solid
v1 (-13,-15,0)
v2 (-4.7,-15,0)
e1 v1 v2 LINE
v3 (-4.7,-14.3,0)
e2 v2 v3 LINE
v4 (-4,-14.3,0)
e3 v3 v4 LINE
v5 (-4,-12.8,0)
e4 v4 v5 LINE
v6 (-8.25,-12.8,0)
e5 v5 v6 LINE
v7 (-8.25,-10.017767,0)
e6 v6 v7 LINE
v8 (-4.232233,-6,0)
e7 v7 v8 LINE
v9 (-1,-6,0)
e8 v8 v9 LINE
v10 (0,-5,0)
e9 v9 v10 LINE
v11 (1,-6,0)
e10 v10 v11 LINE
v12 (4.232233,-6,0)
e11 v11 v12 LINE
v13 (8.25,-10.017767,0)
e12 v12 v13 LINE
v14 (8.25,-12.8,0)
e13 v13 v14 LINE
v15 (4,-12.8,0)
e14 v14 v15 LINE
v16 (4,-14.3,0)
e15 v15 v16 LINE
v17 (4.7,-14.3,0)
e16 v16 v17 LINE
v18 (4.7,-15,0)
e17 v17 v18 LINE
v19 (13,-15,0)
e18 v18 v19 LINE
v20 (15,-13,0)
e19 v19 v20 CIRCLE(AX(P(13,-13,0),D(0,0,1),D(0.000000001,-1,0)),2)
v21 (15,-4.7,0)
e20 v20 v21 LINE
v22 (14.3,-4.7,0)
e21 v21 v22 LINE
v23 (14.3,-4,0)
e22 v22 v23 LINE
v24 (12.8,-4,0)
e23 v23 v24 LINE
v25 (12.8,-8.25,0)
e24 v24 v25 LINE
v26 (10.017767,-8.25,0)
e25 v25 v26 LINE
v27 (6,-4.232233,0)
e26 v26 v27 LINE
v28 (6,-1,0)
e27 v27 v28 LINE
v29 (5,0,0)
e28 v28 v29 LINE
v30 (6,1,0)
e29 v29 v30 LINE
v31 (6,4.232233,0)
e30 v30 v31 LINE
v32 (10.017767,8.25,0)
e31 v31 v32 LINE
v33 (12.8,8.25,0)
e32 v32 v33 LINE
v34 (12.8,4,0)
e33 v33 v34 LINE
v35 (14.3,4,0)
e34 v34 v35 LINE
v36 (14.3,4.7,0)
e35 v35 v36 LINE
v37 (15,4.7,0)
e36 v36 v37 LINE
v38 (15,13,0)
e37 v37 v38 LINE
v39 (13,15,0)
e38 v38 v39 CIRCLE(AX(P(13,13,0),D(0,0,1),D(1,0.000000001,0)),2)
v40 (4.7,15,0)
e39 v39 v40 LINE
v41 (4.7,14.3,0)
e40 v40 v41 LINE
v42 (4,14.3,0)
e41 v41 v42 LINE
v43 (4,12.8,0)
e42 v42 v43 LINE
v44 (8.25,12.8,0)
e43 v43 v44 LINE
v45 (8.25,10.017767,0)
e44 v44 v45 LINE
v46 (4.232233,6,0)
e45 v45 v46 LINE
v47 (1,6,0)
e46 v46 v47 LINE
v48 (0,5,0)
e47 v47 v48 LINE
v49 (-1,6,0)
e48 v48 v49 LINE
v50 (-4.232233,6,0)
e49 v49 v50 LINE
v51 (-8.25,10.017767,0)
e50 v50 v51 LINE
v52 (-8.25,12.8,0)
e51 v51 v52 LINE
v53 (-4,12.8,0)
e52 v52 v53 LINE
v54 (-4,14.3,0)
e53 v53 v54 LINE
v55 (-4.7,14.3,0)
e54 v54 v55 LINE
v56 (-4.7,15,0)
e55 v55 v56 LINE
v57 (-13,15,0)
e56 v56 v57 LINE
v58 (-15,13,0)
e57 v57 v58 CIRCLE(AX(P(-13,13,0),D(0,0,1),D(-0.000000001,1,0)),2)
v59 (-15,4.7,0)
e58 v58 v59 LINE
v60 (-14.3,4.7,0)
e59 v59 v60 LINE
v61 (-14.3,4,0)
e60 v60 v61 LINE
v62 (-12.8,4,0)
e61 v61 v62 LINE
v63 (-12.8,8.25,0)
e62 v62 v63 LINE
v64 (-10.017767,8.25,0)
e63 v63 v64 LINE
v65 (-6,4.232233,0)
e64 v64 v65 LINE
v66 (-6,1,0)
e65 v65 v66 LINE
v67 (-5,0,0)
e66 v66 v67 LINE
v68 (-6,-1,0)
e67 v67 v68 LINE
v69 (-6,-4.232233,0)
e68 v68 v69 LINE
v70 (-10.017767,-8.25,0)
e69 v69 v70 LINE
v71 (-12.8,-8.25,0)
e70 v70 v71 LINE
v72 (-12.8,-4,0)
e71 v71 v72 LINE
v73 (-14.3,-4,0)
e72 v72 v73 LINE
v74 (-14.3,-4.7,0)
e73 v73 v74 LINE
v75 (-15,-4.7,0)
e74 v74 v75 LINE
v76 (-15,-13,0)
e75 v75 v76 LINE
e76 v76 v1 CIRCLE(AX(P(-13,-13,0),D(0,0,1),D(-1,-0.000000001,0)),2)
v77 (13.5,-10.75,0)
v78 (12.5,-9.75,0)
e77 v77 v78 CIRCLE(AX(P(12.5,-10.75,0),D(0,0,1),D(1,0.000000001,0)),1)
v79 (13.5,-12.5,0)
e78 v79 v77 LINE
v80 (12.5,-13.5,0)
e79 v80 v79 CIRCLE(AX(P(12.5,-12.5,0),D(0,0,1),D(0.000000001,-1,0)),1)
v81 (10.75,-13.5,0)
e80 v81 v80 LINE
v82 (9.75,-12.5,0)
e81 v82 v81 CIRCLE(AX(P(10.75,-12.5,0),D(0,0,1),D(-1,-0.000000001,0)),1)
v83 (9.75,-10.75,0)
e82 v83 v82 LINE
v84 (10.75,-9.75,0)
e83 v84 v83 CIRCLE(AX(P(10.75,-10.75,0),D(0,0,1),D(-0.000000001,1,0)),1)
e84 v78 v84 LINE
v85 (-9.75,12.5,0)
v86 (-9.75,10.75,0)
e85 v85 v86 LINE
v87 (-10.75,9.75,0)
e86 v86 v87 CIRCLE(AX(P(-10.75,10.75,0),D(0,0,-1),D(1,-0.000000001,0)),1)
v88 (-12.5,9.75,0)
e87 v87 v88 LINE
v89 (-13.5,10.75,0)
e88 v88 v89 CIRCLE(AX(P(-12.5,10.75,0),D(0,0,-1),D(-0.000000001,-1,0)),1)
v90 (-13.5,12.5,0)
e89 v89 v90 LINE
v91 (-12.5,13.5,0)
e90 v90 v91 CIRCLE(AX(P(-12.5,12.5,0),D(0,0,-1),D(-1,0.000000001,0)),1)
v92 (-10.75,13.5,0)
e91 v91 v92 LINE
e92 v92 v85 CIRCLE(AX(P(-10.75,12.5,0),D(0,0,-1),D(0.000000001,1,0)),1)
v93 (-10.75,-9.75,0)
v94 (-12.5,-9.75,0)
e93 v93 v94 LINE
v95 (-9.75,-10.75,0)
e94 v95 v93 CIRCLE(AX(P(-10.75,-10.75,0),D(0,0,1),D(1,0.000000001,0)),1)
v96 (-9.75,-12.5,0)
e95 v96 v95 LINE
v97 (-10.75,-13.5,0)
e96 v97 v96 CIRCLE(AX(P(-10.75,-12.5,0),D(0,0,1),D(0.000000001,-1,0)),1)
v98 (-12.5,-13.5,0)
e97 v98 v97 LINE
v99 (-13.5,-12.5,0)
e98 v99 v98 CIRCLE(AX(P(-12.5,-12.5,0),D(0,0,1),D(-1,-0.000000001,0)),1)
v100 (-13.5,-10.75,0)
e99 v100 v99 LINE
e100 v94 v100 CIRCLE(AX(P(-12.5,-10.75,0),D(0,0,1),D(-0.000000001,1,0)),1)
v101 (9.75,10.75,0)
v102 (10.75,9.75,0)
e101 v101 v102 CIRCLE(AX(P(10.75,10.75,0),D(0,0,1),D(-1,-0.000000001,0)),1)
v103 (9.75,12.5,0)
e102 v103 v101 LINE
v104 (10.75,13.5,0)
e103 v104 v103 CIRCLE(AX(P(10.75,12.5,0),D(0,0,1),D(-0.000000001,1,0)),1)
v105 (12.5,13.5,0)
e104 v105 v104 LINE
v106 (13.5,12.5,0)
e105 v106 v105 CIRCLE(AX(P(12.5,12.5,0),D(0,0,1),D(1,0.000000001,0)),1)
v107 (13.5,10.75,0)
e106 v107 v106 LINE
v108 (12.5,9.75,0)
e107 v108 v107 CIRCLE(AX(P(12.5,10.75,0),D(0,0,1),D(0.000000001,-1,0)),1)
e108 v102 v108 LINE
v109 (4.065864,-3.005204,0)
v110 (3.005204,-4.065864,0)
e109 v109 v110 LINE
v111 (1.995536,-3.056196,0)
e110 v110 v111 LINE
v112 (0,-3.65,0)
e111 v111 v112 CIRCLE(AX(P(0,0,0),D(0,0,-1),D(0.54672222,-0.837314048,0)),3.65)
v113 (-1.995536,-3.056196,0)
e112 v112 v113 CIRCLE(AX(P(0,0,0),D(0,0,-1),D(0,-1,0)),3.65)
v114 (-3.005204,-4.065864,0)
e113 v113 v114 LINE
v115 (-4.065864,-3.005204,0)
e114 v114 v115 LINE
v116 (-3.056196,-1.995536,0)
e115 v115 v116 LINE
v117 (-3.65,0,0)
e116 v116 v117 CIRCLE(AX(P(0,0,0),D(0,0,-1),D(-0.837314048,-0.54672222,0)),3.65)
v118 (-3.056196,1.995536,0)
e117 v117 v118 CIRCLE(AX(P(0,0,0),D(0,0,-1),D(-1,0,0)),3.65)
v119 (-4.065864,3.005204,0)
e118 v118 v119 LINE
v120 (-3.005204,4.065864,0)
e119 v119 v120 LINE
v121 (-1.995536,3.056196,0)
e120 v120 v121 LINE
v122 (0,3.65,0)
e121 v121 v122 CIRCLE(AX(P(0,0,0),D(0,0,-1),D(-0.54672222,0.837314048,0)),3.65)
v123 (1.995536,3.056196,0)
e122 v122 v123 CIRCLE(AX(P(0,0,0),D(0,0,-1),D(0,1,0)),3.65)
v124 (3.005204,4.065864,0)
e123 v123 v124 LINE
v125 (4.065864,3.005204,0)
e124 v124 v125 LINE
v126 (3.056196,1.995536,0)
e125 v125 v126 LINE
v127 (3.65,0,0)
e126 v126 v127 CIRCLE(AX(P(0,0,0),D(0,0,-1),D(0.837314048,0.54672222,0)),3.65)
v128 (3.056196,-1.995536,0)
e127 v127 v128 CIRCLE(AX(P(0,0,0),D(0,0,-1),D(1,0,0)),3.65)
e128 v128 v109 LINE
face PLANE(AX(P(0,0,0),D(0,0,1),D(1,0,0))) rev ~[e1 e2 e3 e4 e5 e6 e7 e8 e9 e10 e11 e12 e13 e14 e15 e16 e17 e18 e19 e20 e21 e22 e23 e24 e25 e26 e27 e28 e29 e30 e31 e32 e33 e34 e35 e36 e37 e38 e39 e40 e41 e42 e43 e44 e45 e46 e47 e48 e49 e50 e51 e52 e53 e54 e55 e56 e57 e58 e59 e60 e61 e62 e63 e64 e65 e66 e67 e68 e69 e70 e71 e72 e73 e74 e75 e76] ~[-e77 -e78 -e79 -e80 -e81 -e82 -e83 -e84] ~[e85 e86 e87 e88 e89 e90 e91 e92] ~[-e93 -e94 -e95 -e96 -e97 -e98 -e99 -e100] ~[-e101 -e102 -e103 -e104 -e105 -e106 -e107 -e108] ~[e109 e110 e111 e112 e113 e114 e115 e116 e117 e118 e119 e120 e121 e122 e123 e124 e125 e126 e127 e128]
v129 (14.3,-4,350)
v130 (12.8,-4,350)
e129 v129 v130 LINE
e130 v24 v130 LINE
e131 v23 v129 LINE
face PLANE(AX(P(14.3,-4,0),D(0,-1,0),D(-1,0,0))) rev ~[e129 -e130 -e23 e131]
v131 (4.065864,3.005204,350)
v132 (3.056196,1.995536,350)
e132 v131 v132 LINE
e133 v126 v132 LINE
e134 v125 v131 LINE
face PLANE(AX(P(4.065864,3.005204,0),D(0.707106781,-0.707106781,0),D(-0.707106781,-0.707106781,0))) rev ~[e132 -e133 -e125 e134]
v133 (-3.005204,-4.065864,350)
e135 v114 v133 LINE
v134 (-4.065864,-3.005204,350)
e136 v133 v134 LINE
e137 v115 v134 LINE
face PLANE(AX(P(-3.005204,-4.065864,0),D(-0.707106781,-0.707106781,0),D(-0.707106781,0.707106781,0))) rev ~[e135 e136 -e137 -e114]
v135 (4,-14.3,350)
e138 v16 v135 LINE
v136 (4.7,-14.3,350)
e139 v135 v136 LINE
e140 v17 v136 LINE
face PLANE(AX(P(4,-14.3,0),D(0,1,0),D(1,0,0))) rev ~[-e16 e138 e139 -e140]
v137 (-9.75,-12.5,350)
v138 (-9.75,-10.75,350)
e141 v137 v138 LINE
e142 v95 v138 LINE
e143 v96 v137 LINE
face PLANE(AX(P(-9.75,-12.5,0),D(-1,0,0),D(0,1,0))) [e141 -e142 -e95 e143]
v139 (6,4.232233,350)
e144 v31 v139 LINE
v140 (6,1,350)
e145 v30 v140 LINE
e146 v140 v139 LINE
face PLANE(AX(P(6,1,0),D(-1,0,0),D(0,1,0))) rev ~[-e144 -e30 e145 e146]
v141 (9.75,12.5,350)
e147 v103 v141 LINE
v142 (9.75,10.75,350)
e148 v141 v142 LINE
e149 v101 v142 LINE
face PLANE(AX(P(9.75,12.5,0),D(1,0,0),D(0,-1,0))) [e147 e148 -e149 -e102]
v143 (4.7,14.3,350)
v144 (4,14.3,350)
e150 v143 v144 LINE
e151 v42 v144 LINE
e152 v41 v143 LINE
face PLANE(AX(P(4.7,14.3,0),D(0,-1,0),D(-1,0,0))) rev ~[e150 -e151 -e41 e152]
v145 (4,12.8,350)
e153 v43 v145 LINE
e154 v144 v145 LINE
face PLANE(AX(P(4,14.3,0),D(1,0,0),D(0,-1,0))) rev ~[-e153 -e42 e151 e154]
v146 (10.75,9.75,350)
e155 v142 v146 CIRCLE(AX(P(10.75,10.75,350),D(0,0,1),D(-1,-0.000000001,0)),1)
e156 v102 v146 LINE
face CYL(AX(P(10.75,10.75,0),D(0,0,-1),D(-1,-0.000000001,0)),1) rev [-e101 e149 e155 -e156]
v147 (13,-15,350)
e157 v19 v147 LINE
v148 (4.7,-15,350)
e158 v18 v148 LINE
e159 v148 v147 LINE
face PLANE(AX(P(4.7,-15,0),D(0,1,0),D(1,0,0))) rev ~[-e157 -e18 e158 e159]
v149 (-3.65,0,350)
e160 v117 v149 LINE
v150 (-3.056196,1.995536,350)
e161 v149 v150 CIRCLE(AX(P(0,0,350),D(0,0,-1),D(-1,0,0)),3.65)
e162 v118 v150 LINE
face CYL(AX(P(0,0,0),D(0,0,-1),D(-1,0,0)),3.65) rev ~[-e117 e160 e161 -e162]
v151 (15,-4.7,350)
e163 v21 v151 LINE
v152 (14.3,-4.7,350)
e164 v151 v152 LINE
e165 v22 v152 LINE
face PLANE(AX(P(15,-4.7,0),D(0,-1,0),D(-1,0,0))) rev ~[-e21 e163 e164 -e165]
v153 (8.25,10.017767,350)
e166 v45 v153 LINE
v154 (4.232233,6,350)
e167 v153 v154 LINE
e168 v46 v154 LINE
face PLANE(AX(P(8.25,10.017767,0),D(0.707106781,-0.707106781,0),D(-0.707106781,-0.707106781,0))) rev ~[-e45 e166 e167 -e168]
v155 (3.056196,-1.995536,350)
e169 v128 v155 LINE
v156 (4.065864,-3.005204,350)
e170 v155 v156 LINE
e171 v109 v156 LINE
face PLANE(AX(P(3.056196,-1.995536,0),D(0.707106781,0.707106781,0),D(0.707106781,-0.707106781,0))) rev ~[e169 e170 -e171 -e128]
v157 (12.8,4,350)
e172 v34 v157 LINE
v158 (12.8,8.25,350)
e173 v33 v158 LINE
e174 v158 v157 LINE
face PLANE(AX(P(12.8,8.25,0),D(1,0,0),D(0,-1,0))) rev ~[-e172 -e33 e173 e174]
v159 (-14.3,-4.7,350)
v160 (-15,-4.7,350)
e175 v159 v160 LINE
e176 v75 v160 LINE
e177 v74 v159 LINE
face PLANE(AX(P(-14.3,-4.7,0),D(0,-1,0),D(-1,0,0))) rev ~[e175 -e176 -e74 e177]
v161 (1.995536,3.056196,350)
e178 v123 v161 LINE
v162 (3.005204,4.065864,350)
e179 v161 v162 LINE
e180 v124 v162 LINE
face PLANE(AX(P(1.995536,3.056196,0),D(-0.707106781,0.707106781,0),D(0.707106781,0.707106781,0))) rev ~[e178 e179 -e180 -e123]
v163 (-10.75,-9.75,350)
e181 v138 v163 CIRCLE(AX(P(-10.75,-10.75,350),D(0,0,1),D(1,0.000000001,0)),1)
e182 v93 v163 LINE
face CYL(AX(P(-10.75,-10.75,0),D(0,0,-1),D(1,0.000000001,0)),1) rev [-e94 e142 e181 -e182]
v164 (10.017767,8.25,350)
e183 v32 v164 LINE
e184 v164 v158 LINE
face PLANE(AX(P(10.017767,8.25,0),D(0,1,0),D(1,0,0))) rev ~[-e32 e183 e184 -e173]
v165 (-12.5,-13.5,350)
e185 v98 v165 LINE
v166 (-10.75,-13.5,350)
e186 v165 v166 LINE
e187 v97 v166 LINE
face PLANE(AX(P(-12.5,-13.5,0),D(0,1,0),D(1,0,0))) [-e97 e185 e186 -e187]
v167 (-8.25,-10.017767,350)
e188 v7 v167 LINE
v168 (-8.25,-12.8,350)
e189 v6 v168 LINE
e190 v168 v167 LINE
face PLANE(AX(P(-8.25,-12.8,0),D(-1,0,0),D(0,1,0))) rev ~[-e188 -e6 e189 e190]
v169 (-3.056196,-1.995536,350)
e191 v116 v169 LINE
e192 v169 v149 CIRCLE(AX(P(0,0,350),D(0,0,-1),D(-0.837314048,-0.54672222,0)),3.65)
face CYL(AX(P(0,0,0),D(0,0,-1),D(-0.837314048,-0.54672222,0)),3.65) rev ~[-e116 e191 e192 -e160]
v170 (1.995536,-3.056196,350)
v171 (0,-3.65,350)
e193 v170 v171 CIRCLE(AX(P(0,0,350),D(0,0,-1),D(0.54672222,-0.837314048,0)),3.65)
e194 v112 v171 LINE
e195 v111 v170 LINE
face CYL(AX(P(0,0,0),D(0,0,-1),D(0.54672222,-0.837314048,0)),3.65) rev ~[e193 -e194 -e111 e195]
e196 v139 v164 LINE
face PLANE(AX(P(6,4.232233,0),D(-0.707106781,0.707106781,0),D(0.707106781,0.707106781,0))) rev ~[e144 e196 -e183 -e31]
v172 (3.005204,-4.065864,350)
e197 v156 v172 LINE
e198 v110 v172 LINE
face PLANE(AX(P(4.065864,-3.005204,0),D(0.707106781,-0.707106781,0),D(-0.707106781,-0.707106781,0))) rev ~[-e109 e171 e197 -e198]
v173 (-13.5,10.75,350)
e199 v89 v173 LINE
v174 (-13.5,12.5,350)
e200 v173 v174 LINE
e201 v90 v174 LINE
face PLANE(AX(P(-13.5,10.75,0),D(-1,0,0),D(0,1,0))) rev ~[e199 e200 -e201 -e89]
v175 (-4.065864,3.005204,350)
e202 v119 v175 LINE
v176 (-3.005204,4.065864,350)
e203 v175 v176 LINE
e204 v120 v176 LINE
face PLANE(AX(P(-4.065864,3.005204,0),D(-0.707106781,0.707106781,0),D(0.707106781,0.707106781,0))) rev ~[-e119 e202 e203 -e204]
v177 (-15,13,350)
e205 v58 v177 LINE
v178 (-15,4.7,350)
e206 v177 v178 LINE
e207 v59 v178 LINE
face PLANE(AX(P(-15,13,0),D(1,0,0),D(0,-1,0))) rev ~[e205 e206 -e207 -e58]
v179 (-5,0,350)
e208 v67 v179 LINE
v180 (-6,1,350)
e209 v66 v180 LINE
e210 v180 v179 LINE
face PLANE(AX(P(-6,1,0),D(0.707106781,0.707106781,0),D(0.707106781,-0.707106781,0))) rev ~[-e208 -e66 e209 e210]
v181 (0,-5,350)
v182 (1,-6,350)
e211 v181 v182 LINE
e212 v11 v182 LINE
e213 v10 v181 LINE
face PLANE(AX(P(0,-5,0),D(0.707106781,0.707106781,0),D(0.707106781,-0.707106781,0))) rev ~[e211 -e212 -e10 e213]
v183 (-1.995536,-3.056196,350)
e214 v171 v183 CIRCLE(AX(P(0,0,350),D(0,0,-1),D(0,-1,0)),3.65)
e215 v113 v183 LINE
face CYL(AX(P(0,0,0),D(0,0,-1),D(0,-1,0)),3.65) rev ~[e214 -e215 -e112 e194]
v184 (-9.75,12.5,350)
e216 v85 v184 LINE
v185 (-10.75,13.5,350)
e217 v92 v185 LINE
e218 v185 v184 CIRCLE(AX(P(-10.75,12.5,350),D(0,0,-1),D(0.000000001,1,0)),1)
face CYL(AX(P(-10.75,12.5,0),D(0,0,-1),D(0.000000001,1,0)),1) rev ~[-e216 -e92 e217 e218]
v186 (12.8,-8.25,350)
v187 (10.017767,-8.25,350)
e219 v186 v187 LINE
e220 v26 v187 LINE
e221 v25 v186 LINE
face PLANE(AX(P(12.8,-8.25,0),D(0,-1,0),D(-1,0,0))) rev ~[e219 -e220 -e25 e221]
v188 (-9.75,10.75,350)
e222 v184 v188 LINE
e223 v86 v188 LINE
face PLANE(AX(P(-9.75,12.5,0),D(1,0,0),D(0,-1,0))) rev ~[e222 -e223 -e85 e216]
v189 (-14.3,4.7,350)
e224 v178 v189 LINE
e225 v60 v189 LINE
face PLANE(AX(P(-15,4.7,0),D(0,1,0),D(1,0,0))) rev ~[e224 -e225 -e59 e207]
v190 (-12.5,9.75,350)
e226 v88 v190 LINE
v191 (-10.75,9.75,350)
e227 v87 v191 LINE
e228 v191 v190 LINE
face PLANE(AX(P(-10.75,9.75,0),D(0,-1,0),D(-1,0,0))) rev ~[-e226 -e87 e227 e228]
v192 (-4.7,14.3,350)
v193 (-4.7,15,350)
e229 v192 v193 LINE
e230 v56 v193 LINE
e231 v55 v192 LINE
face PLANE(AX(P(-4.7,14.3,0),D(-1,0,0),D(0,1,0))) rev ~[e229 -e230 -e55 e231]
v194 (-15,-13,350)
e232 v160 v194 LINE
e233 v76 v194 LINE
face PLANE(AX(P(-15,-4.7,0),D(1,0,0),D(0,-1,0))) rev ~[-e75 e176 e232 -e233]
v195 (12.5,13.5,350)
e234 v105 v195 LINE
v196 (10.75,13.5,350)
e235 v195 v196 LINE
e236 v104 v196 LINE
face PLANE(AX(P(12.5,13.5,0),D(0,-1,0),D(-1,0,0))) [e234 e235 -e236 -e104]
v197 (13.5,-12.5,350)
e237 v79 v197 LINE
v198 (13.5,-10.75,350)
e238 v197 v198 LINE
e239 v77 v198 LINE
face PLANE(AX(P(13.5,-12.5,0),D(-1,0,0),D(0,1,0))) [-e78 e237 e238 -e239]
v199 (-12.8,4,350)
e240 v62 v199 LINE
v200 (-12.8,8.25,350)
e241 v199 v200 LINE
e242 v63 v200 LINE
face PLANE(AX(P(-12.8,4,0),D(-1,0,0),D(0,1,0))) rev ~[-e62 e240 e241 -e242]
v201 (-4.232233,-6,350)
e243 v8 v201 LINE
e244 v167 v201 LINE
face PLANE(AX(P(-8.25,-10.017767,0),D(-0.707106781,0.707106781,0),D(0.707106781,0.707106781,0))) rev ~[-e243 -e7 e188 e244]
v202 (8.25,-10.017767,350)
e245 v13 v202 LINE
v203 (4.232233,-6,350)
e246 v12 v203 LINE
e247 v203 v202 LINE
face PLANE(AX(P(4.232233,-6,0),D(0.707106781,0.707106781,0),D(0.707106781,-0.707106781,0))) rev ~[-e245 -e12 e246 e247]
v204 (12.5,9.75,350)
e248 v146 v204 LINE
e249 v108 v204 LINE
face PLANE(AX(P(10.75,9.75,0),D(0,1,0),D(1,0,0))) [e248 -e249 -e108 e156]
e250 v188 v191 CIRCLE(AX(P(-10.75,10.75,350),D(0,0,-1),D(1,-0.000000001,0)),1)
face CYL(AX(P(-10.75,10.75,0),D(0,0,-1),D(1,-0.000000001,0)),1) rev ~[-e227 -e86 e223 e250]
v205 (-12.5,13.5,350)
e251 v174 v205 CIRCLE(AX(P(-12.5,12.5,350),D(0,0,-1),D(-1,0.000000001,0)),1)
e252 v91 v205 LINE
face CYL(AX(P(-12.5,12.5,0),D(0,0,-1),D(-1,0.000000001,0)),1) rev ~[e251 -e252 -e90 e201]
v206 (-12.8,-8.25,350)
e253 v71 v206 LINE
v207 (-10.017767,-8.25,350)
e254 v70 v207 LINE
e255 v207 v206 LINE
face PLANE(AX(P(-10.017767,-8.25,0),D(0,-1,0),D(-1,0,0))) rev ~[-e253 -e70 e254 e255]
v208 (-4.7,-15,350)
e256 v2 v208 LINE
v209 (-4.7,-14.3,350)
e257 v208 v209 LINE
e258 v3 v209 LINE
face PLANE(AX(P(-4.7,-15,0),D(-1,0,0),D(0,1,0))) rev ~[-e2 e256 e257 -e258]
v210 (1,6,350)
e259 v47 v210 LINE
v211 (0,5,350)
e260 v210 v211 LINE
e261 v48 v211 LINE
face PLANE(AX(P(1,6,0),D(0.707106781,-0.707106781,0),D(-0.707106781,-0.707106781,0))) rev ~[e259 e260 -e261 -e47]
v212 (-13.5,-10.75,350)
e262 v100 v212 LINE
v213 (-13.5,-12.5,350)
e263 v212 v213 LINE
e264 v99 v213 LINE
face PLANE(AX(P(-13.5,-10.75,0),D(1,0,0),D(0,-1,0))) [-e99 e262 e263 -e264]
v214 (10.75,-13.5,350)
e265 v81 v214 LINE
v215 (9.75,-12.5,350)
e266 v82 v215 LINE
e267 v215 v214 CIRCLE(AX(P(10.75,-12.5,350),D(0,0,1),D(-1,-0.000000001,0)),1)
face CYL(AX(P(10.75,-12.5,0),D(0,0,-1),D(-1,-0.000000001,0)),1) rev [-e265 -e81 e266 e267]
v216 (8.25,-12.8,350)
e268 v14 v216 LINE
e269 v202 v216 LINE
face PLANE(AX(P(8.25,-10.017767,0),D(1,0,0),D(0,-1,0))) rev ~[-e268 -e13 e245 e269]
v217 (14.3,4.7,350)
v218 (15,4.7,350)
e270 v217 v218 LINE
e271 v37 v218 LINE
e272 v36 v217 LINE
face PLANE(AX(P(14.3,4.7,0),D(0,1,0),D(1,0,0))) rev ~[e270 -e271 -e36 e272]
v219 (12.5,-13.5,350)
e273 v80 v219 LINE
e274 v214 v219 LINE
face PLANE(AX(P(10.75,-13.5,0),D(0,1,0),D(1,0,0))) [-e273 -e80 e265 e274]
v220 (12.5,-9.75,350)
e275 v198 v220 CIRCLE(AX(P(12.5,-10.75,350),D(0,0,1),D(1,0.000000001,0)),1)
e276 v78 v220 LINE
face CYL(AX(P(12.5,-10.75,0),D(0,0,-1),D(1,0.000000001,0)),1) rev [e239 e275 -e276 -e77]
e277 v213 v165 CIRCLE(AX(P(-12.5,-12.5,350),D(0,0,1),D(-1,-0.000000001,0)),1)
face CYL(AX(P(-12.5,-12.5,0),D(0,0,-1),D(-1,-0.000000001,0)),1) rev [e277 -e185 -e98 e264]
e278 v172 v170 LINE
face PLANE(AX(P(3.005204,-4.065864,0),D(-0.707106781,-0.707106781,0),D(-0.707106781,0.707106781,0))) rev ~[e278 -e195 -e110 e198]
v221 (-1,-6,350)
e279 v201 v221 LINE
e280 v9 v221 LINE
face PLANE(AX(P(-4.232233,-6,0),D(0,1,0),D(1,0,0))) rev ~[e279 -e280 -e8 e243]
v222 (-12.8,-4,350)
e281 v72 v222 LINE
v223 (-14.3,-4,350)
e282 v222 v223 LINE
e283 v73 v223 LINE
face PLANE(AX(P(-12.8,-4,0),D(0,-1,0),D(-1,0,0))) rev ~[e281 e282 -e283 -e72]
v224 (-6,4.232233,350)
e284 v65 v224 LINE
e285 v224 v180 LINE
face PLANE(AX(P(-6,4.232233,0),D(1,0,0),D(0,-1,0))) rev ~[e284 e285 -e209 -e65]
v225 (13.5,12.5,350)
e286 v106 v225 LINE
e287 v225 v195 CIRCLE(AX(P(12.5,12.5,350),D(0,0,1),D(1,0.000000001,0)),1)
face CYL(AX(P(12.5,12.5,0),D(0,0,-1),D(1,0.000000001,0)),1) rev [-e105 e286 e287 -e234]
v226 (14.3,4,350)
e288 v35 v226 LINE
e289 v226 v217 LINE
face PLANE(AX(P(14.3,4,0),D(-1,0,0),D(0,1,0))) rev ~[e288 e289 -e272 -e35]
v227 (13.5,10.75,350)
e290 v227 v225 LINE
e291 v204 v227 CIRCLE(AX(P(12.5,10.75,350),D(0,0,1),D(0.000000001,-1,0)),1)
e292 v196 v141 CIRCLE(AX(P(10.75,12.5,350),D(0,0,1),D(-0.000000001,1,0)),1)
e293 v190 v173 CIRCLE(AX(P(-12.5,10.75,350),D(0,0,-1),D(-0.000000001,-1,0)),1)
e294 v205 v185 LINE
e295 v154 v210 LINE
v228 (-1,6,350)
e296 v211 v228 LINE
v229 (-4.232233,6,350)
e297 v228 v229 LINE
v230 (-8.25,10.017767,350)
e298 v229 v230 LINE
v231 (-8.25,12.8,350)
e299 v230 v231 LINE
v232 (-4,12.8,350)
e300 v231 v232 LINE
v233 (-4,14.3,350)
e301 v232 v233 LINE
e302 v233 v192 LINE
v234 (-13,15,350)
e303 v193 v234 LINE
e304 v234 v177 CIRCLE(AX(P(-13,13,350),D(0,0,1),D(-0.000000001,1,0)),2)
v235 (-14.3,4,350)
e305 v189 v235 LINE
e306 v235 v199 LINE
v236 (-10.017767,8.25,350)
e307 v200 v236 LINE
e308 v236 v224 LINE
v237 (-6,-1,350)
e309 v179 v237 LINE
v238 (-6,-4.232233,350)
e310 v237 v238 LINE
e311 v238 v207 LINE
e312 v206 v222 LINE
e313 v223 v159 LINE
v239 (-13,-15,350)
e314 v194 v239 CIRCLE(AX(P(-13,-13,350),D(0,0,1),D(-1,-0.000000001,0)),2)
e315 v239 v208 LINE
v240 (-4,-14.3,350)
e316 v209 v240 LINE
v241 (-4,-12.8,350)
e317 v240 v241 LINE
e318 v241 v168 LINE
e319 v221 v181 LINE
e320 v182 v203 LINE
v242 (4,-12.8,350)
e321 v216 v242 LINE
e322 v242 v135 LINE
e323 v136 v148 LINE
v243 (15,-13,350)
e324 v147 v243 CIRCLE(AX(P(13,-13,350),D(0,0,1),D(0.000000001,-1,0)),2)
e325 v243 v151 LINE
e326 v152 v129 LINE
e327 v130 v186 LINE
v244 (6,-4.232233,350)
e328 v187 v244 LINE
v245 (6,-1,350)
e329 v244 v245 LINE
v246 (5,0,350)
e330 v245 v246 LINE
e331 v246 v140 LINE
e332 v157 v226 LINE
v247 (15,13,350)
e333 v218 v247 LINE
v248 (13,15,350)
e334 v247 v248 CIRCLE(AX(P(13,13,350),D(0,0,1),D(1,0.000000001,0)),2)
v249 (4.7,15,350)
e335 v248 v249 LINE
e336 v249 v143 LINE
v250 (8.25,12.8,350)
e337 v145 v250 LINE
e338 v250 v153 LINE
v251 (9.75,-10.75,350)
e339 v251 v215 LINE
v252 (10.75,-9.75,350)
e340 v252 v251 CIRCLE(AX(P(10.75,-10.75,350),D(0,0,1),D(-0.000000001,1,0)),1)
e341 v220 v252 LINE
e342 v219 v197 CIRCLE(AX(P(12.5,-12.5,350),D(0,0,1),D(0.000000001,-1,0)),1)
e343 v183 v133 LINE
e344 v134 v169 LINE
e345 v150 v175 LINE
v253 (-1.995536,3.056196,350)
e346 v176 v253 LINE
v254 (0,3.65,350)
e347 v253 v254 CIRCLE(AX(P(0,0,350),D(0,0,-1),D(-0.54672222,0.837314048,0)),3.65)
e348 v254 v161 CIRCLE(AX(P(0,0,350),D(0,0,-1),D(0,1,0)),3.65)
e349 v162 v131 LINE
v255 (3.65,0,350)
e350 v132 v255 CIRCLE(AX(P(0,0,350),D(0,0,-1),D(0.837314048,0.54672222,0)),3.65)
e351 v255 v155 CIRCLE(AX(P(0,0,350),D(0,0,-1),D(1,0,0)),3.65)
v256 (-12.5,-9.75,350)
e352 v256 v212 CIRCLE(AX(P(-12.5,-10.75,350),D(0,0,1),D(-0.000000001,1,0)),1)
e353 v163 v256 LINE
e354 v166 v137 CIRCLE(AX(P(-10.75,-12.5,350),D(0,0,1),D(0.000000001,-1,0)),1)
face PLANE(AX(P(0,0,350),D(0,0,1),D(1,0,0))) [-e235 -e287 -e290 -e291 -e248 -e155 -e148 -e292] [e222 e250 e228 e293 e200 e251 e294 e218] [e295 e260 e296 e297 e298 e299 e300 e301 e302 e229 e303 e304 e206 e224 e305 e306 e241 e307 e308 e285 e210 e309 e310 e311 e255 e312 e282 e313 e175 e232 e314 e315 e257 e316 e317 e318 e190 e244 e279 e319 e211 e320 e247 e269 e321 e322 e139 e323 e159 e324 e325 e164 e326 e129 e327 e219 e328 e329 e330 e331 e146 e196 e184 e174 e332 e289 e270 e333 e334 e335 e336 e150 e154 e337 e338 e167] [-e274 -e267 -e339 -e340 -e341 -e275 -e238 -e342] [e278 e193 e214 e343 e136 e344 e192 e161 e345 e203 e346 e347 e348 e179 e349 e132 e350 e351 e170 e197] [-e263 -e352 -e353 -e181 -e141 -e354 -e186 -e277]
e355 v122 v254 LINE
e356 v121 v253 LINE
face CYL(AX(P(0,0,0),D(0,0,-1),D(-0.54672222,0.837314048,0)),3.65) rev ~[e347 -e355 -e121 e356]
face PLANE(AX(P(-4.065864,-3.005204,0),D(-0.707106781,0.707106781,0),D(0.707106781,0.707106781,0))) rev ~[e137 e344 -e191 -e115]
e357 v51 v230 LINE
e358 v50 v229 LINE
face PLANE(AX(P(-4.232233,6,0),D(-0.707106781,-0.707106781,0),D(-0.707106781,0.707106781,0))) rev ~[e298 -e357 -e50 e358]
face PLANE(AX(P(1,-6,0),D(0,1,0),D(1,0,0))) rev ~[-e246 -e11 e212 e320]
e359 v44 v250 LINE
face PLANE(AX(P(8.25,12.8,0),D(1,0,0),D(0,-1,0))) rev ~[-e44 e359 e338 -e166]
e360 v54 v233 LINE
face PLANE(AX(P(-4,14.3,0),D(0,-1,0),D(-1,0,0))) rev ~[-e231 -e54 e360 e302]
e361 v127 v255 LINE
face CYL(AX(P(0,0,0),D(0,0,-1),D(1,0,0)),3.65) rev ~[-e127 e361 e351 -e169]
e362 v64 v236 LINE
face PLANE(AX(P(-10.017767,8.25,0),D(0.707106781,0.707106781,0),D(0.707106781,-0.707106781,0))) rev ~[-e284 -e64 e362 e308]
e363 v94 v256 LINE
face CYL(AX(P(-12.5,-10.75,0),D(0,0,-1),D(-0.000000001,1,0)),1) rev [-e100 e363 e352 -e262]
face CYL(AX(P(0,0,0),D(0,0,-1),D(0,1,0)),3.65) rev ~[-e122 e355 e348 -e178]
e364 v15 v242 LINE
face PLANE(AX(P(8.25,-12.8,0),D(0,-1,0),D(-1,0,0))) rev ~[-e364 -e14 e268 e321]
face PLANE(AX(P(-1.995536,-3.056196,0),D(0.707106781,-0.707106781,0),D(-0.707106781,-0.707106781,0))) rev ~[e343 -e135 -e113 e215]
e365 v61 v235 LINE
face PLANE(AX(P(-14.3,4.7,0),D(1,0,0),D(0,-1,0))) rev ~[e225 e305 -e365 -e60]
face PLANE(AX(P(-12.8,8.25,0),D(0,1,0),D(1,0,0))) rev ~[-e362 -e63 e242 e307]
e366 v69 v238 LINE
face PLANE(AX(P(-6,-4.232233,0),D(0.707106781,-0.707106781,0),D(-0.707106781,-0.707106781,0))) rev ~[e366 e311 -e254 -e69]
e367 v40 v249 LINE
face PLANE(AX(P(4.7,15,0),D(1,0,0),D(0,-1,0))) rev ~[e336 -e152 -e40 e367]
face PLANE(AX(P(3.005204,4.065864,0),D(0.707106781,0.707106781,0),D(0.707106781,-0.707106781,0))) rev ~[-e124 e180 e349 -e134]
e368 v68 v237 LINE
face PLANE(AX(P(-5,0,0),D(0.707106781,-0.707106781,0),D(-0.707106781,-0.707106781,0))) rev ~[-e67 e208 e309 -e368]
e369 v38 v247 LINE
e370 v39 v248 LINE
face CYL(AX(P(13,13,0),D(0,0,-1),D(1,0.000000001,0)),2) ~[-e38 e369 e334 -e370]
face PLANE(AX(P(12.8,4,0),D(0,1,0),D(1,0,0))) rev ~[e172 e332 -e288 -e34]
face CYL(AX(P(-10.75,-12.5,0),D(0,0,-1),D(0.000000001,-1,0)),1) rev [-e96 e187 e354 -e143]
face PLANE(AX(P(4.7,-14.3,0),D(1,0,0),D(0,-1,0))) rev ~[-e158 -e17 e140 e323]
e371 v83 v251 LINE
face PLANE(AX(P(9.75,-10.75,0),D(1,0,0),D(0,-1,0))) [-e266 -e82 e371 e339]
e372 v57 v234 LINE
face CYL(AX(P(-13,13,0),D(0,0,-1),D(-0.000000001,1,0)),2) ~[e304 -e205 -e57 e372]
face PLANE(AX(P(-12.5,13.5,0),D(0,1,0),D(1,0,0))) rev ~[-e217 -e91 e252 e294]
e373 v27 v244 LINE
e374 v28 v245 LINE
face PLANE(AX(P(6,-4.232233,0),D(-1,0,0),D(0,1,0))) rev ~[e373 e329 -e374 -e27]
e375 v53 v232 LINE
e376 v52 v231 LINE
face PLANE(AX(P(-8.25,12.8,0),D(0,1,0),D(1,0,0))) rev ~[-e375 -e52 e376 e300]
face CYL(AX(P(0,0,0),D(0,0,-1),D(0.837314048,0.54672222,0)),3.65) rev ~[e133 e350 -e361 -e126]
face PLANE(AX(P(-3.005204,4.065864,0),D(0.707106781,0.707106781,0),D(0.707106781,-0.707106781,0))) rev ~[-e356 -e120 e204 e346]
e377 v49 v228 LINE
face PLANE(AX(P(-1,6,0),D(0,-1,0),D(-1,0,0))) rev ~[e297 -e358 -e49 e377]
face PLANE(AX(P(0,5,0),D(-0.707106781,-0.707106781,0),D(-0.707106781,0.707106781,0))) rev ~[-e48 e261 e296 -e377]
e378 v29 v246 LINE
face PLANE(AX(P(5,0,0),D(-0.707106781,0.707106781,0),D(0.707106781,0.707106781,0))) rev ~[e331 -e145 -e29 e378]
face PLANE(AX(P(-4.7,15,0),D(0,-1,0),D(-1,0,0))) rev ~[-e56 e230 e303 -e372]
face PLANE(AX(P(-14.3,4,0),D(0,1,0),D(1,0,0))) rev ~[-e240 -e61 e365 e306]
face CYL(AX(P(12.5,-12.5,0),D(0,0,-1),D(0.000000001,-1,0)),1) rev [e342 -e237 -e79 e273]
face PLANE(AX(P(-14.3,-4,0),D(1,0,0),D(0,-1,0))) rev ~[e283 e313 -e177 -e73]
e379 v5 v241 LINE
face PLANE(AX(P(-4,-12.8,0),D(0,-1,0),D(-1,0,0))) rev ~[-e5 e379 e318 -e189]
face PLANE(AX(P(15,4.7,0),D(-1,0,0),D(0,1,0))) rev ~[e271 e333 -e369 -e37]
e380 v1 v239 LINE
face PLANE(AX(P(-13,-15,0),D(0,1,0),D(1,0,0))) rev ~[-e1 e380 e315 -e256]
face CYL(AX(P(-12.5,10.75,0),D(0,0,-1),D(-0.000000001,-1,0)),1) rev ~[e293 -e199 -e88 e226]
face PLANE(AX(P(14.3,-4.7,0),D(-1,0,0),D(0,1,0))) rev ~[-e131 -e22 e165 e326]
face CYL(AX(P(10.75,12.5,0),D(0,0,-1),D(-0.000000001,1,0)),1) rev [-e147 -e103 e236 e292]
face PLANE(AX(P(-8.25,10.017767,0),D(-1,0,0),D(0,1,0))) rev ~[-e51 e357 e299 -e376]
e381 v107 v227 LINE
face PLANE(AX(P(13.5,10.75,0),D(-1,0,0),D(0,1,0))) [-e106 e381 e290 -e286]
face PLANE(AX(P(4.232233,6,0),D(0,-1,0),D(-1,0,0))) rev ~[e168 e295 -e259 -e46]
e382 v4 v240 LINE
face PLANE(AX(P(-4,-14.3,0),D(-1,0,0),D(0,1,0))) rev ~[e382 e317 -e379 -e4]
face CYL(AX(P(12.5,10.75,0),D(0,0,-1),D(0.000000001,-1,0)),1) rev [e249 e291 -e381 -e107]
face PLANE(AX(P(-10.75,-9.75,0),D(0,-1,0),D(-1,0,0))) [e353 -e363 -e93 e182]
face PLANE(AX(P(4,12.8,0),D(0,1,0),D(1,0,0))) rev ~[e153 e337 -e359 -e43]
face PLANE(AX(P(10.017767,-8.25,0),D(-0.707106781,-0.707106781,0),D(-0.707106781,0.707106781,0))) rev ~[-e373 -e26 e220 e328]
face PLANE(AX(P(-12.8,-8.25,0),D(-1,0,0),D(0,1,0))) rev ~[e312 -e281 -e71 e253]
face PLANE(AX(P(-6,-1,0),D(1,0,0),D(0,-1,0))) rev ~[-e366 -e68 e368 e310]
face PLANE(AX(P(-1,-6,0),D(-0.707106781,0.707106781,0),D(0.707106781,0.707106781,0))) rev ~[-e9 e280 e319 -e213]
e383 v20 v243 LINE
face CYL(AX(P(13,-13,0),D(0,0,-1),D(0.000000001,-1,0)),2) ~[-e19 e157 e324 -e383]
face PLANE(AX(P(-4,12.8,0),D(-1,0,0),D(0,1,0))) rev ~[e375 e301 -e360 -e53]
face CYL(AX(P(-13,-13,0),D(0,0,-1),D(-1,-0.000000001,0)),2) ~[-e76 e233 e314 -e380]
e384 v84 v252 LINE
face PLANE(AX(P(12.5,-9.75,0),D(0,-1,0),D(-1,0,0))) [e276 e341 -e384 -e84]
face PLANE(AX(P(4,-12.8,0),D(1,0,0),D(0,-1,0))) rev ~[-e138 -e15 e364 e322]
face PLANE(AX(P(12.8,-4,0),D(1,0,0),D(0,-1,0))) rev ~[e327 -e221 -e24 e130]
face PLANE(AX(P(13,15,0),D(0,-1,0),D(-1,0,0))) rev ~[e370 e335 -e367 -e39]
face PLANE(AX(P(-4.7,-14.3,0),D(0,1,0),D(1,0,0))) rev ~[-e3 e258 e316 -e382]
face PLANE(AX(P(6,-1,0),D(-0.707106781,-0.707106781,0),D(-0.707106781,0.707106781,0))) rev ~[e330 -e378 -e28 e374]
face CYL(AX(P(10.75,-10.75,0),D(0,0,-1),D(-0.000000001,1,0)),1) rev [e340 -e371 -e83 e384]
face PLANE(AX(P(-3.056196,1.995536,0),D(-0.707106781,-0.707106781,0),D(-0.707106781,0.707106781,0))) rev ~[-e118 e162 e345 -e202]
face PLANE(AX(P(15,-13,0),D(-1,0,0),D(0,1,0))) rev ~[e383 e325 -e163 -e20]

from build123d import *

# Parameters (mm, degrees)
ESTRUSIONE_ESTRUSIONE2_DEPTH = 350


with BuildPart() as part:
    # Schizzo1 → Estrusione-Estrusione2 (new body)
    with BuildSketch(Plane.XY):
        with BuildLine():
            Line((-15, 13), (-15, 4.7))
            Line((-15, 4.7), (-14.3, 4.7))
            Line((-14.3, 4.7), (-14.3, 4))
            Line((-14.3, 4), (-12.8, 4))
            Line((-12.8, 4), (-12.8, 8.25))
            Line((-12.8, 8.25), (-10.017766953, 8.25))
            Line((-10.017766953, 8.25), (-6, 4.232233047))
            Line((-6, 4.232233047), (-6, 1))
            Line((-6, 1), (-5, 0))
            Line((-5, 0), (-6, -1))
            Line((-6, -1), (-6, -4.232233047))
            Line((-6, -4.232233047), (-10.017766953, -8.25))
            Line((-10.017766953, -8.25), (-12.8, -8.25))
            Line((-12.8, -8.25), (-12.8, -4))
            Line((-12.8, -4), (-14.3, -4))
            Line((-14.3, -4), (-14.3, -4.7))
            Line((-14.3, -4.7), (-15, -4.7))
            Line((-15, -4.7), (-15, -13))
            ThreePointArc((-15, -13), (-14.414213562, -14.414213562), (-13, -15))
            Line((-13, -15), (-4.7, -15))
            Line((-4.7, -15), (-4.7, -14.3))
            Line((-4.7, -14.3), (-4, -14.3))
            Line((-4, -14.3), (-4, -12.8))
            Line((-4, -12.8), (-8.25, -12.8))
            Line((-8.25, -12.8), (-8.25, -10.017766953))
            Line((-8.25, -10.017766953), (-4.232233047, -6))
            Line((-4.232233047, -6), (-1, -6))
            Line((-1, -6), (0, -5))
            Line((0, -5), (1, -6))
            Line((1, -6), (4.232233047, -6))
            Line((4.232233047, -6), (8.25, -10.017766953))
            Line((8.25, -10.017766953), (8.25, -12.8))
            Line((8.25, -12.8), (4, -12.8))
            Line((4, -12.8), (4, -14.3))
            Line((4, -14.3), (4.7, -14.3))
            Line((4.7, -14.3), (4.7, -15))
            Line((4.7, -15), (13, -15))
            ThreePointArc((13, -15), (14.414213562, -14.414213562), (15, -13))
            Line((15, -13), (15, -4.7))
            Line((15, -4.7), (14.3, -4.7))
            Line((14.3, -4.7), (14.3, -4))
            Line((14.3, -4), (12.8, -4))
            Line((12.8, -4), (12.8, -8.25))
            Line((12.8, -8.25), (10.017766953, -8.25))
            Line((10.017766953, -8.25), (6, -4.232233047))
            Line((6, -4.232233047), (6, -1))
            Line((6, -1), (5, 0))
            Line((5, 0), (6, 1))
            Line((6, 1), (6, 4.232233047))
            Line((6, 4.232233047), (10.017766953, 8.25))
            Line((10.017766953, 8.25), (12.8, 8.25))
            Line((12.8, 8.25), (12.8, 4))
            Line((12.8, 4), (14.3, 4))
            Line((14.3, 4), (14.3, 4.7))
            Line((14.3, 4.7), (15, 4.7))
            Line((15, 4.7), (15, 13))
            ThreePointArc((15, 13), (14.414213562, 14.414213562), (13, 15))
            Line((13, 15), (4.7, 15))
            Line((4.7, 15), (4.7, 14.3))
            Line((4.7, 14.3), (4, 14.3))
            Line((4, 14.3), (4, 12.8))
            Line((4, 12.8), (8.25, 12.8))
            Line((8.25, 12.8), (8.25, 10.017766953))
            Line((8.25, 10.017766953), (4.232233047, 6))
            Line((4.232233047, 6), (1, 6))
            Line((1, 6), (0, 5))
            Line((0, 5), (-1, 6))
            Line((-1, 6), (-4.232233047, 6))
            Line((-4.232233047, 6), (-8.25, 10.017766953))
            Line((-8.25, 10.017766953), (-8.25, 12.8))
            Line((-8.25, 12.8), (-4, 12.8))
            Line((-4, 12.8), (-4, 14.3))
            Line((-4, 14.3), (-4.7, 14.3))
            Line((-4.7, 14.3), (-4.7, 15))
            Line((-4.7, 15), (-13, 15))
            ThreePointArc((-13, 15), (-14.414213562, 14.414213562), (-15, 13))
        make_face()
        with BuildLine():
            Line((13.5, 10.75), (13.5, 12.5))
            ThreePointArc((13.5, 12.5), (13.207106781, 13.207106781), (12.5, 13.5))
            Line((12.5, 13.5), (10.75, 13.5))
            ThreePointArc((10.75, 13.5), (10.042893219, 13.207106781), (9.75, 12.5))
            Line((9.75, 12.5), (9.75, 10.75))
            ThreePointArc((9.75, 10.75), (10.042893219, 10.042893219), (10.75, 9.75))
            Line((10.75, 9.75), (12.5, 9.75))
            ThreePointArc((12.5, 9.75), (13.207106781, 10.042893219), (13.5, 10.75))
        make_face(mode=Mode.SUBTRACT)
        with BuildLine():
            Line((10.75, -13.5), (12.5, -13.5))
            ThreePointArc((12.5, -13.5), (13.207106781, -13.207106781), (13.5, -12.5))
            Line((13.5, -12.5), (13.5, -10.75))
            ThreePointArc((13.5, -10.75), (13.207106781, -10.042893219), (12.5, -9.75))
            Line((12.5, -9.75), (10.75, -9.75))
            ThreePointArc((10.75, -9.75), (10.042893219, -10.042893219), (9.75, -10.75))
            Line((9.75, -10.75), (9.75, -12.5))
            ThreePointArc((9.75, -12.5), (10.042893219, -13.207106781), (10.75, -13.5))
        make_face(mode=Mode.SUBTRACT)
        with BuildLine():
            Line((-13.5, -10.75), (-13.5, -12.5))
            ThreePointArc((-13.5, -12.5), (-13.207106781, -13.207106781), (-12.5, -13.5))
            Line((-12.5, -13.5), (-10.75, -13.5))
            ThreePointArc((-10.75, -13.5), (-10.042893219, -13.207106781), (-9.75, -12.5))
            Line((-9.75, -12.5), (-9.75, -10.75))
            ThreePointArc((-9.75, -10.75), (-10.042893219, -10.042893219), (-10.75, -9.75))
            Line((-10.75, -9.75), (-12.5, -9.75))
            ThreePointArc((-12.5, -9.75), (-13.207106781, -10.042893219), (-13.5, -10.75))
        make_face(mode=Mode.SUBTRACT)
        with BuildLine():
            Line((1.995536102, 3.056196274), (3.00520382, 4.065863992))
            Line((3.00520382, 4.065863992), (4.065863992, 3.00520382))
            Line((4.065863992, 3.00520382), (3.056196274, 1.995536102))
            ThreePointArc((3.056196274, 1.995536102), (3.498400806, 1.041005187), (3.65, 0))
            ThreePointArc((3.65, 0), (3.498400806, -1.041005187), (3.056196274, -1.995536102))
            Line((3.056196274, -1.995536102), (4.065863992, -3.00520382))
            Line((4.065863992, -3.00520382), (3.00520382, -4.065863992))
            Line((3.00520382, -4.065863992), (1.995536102, -3.056196274))
            ThreePointArc((1.995536102, -3.056196274), (1.041005187, -3.498400806), (0, -3.65))
            ThreePointArc((0, -3.65), (-1.041005187, -3.498400806), (-1.995536102, -3.056196274))
            Line((-1.995536102, -3.056196274), (-3.00520382, -4.065863992))
            Line((-3.00520382, -4.065863992), (-4.065863992, -3.00520382))
            Line((-4.065863992, -3.00520382), (-3.056196274, -1.995536102))
            ThreePointArc((-3.056196274, -1.995536102), (-3.498400806, -1.041005187), (-3.65, 0))
            ThreePointArc((-3.65, 0), (-3.498400806, 1.041005187), (-3.056196274, 1.995536102))
            Line((-3.056196274, 1.995536102), (-4.065863992, 3.00520382))
            Line((-4.065863992, 3.00520382), (-3.00520382, 4.065863992))
            Line((-3.00520382, 4.065863992), (-1.995536102, 3.056196274))
            ThreePointArc((-1.995536102, 3.056196274), (-1.041005187, 3.498400806), (0, 3.65))
            ThreePointArc((0, 3.65), (1.041005187, 3.498400806), (1.995536102, 3.056196274))
        make_face(mode=Mode.SUBTRACT)
        with BuildLine():
            Line((-10.75, 9.75), (-12.5, 9.75))
            ThreePointArc((-12.5, 9.75), (-13.207106781, 10.042893219), (-13.5, 10.75))
            Line((-13.5, 10.75), (-13.5, 12.5))
            ThreePointArc((-13.5, 12.5), (-13.207106781, 13.207106781), (-12.5, 13.5))
            Line((-12.5, 13.5), (-10.75, 13.5))
            ThreePointArc((-10.75, 13.5), (-10.042893219, 13.207106781), (-9.75, 12.5))
            Line((-9.75, 12.5), (-9.75, 10.75))
            ThreePointArc((-9.75, 10.75), (-10.042893219, 10.042893219), (-10.75, 9.75))
        make_face(mode=Mode.SUBTRACT)
    extrude(amount=ESTRUSIONE_ESTRUSIONE2_DEPTH)


solid = part.part
